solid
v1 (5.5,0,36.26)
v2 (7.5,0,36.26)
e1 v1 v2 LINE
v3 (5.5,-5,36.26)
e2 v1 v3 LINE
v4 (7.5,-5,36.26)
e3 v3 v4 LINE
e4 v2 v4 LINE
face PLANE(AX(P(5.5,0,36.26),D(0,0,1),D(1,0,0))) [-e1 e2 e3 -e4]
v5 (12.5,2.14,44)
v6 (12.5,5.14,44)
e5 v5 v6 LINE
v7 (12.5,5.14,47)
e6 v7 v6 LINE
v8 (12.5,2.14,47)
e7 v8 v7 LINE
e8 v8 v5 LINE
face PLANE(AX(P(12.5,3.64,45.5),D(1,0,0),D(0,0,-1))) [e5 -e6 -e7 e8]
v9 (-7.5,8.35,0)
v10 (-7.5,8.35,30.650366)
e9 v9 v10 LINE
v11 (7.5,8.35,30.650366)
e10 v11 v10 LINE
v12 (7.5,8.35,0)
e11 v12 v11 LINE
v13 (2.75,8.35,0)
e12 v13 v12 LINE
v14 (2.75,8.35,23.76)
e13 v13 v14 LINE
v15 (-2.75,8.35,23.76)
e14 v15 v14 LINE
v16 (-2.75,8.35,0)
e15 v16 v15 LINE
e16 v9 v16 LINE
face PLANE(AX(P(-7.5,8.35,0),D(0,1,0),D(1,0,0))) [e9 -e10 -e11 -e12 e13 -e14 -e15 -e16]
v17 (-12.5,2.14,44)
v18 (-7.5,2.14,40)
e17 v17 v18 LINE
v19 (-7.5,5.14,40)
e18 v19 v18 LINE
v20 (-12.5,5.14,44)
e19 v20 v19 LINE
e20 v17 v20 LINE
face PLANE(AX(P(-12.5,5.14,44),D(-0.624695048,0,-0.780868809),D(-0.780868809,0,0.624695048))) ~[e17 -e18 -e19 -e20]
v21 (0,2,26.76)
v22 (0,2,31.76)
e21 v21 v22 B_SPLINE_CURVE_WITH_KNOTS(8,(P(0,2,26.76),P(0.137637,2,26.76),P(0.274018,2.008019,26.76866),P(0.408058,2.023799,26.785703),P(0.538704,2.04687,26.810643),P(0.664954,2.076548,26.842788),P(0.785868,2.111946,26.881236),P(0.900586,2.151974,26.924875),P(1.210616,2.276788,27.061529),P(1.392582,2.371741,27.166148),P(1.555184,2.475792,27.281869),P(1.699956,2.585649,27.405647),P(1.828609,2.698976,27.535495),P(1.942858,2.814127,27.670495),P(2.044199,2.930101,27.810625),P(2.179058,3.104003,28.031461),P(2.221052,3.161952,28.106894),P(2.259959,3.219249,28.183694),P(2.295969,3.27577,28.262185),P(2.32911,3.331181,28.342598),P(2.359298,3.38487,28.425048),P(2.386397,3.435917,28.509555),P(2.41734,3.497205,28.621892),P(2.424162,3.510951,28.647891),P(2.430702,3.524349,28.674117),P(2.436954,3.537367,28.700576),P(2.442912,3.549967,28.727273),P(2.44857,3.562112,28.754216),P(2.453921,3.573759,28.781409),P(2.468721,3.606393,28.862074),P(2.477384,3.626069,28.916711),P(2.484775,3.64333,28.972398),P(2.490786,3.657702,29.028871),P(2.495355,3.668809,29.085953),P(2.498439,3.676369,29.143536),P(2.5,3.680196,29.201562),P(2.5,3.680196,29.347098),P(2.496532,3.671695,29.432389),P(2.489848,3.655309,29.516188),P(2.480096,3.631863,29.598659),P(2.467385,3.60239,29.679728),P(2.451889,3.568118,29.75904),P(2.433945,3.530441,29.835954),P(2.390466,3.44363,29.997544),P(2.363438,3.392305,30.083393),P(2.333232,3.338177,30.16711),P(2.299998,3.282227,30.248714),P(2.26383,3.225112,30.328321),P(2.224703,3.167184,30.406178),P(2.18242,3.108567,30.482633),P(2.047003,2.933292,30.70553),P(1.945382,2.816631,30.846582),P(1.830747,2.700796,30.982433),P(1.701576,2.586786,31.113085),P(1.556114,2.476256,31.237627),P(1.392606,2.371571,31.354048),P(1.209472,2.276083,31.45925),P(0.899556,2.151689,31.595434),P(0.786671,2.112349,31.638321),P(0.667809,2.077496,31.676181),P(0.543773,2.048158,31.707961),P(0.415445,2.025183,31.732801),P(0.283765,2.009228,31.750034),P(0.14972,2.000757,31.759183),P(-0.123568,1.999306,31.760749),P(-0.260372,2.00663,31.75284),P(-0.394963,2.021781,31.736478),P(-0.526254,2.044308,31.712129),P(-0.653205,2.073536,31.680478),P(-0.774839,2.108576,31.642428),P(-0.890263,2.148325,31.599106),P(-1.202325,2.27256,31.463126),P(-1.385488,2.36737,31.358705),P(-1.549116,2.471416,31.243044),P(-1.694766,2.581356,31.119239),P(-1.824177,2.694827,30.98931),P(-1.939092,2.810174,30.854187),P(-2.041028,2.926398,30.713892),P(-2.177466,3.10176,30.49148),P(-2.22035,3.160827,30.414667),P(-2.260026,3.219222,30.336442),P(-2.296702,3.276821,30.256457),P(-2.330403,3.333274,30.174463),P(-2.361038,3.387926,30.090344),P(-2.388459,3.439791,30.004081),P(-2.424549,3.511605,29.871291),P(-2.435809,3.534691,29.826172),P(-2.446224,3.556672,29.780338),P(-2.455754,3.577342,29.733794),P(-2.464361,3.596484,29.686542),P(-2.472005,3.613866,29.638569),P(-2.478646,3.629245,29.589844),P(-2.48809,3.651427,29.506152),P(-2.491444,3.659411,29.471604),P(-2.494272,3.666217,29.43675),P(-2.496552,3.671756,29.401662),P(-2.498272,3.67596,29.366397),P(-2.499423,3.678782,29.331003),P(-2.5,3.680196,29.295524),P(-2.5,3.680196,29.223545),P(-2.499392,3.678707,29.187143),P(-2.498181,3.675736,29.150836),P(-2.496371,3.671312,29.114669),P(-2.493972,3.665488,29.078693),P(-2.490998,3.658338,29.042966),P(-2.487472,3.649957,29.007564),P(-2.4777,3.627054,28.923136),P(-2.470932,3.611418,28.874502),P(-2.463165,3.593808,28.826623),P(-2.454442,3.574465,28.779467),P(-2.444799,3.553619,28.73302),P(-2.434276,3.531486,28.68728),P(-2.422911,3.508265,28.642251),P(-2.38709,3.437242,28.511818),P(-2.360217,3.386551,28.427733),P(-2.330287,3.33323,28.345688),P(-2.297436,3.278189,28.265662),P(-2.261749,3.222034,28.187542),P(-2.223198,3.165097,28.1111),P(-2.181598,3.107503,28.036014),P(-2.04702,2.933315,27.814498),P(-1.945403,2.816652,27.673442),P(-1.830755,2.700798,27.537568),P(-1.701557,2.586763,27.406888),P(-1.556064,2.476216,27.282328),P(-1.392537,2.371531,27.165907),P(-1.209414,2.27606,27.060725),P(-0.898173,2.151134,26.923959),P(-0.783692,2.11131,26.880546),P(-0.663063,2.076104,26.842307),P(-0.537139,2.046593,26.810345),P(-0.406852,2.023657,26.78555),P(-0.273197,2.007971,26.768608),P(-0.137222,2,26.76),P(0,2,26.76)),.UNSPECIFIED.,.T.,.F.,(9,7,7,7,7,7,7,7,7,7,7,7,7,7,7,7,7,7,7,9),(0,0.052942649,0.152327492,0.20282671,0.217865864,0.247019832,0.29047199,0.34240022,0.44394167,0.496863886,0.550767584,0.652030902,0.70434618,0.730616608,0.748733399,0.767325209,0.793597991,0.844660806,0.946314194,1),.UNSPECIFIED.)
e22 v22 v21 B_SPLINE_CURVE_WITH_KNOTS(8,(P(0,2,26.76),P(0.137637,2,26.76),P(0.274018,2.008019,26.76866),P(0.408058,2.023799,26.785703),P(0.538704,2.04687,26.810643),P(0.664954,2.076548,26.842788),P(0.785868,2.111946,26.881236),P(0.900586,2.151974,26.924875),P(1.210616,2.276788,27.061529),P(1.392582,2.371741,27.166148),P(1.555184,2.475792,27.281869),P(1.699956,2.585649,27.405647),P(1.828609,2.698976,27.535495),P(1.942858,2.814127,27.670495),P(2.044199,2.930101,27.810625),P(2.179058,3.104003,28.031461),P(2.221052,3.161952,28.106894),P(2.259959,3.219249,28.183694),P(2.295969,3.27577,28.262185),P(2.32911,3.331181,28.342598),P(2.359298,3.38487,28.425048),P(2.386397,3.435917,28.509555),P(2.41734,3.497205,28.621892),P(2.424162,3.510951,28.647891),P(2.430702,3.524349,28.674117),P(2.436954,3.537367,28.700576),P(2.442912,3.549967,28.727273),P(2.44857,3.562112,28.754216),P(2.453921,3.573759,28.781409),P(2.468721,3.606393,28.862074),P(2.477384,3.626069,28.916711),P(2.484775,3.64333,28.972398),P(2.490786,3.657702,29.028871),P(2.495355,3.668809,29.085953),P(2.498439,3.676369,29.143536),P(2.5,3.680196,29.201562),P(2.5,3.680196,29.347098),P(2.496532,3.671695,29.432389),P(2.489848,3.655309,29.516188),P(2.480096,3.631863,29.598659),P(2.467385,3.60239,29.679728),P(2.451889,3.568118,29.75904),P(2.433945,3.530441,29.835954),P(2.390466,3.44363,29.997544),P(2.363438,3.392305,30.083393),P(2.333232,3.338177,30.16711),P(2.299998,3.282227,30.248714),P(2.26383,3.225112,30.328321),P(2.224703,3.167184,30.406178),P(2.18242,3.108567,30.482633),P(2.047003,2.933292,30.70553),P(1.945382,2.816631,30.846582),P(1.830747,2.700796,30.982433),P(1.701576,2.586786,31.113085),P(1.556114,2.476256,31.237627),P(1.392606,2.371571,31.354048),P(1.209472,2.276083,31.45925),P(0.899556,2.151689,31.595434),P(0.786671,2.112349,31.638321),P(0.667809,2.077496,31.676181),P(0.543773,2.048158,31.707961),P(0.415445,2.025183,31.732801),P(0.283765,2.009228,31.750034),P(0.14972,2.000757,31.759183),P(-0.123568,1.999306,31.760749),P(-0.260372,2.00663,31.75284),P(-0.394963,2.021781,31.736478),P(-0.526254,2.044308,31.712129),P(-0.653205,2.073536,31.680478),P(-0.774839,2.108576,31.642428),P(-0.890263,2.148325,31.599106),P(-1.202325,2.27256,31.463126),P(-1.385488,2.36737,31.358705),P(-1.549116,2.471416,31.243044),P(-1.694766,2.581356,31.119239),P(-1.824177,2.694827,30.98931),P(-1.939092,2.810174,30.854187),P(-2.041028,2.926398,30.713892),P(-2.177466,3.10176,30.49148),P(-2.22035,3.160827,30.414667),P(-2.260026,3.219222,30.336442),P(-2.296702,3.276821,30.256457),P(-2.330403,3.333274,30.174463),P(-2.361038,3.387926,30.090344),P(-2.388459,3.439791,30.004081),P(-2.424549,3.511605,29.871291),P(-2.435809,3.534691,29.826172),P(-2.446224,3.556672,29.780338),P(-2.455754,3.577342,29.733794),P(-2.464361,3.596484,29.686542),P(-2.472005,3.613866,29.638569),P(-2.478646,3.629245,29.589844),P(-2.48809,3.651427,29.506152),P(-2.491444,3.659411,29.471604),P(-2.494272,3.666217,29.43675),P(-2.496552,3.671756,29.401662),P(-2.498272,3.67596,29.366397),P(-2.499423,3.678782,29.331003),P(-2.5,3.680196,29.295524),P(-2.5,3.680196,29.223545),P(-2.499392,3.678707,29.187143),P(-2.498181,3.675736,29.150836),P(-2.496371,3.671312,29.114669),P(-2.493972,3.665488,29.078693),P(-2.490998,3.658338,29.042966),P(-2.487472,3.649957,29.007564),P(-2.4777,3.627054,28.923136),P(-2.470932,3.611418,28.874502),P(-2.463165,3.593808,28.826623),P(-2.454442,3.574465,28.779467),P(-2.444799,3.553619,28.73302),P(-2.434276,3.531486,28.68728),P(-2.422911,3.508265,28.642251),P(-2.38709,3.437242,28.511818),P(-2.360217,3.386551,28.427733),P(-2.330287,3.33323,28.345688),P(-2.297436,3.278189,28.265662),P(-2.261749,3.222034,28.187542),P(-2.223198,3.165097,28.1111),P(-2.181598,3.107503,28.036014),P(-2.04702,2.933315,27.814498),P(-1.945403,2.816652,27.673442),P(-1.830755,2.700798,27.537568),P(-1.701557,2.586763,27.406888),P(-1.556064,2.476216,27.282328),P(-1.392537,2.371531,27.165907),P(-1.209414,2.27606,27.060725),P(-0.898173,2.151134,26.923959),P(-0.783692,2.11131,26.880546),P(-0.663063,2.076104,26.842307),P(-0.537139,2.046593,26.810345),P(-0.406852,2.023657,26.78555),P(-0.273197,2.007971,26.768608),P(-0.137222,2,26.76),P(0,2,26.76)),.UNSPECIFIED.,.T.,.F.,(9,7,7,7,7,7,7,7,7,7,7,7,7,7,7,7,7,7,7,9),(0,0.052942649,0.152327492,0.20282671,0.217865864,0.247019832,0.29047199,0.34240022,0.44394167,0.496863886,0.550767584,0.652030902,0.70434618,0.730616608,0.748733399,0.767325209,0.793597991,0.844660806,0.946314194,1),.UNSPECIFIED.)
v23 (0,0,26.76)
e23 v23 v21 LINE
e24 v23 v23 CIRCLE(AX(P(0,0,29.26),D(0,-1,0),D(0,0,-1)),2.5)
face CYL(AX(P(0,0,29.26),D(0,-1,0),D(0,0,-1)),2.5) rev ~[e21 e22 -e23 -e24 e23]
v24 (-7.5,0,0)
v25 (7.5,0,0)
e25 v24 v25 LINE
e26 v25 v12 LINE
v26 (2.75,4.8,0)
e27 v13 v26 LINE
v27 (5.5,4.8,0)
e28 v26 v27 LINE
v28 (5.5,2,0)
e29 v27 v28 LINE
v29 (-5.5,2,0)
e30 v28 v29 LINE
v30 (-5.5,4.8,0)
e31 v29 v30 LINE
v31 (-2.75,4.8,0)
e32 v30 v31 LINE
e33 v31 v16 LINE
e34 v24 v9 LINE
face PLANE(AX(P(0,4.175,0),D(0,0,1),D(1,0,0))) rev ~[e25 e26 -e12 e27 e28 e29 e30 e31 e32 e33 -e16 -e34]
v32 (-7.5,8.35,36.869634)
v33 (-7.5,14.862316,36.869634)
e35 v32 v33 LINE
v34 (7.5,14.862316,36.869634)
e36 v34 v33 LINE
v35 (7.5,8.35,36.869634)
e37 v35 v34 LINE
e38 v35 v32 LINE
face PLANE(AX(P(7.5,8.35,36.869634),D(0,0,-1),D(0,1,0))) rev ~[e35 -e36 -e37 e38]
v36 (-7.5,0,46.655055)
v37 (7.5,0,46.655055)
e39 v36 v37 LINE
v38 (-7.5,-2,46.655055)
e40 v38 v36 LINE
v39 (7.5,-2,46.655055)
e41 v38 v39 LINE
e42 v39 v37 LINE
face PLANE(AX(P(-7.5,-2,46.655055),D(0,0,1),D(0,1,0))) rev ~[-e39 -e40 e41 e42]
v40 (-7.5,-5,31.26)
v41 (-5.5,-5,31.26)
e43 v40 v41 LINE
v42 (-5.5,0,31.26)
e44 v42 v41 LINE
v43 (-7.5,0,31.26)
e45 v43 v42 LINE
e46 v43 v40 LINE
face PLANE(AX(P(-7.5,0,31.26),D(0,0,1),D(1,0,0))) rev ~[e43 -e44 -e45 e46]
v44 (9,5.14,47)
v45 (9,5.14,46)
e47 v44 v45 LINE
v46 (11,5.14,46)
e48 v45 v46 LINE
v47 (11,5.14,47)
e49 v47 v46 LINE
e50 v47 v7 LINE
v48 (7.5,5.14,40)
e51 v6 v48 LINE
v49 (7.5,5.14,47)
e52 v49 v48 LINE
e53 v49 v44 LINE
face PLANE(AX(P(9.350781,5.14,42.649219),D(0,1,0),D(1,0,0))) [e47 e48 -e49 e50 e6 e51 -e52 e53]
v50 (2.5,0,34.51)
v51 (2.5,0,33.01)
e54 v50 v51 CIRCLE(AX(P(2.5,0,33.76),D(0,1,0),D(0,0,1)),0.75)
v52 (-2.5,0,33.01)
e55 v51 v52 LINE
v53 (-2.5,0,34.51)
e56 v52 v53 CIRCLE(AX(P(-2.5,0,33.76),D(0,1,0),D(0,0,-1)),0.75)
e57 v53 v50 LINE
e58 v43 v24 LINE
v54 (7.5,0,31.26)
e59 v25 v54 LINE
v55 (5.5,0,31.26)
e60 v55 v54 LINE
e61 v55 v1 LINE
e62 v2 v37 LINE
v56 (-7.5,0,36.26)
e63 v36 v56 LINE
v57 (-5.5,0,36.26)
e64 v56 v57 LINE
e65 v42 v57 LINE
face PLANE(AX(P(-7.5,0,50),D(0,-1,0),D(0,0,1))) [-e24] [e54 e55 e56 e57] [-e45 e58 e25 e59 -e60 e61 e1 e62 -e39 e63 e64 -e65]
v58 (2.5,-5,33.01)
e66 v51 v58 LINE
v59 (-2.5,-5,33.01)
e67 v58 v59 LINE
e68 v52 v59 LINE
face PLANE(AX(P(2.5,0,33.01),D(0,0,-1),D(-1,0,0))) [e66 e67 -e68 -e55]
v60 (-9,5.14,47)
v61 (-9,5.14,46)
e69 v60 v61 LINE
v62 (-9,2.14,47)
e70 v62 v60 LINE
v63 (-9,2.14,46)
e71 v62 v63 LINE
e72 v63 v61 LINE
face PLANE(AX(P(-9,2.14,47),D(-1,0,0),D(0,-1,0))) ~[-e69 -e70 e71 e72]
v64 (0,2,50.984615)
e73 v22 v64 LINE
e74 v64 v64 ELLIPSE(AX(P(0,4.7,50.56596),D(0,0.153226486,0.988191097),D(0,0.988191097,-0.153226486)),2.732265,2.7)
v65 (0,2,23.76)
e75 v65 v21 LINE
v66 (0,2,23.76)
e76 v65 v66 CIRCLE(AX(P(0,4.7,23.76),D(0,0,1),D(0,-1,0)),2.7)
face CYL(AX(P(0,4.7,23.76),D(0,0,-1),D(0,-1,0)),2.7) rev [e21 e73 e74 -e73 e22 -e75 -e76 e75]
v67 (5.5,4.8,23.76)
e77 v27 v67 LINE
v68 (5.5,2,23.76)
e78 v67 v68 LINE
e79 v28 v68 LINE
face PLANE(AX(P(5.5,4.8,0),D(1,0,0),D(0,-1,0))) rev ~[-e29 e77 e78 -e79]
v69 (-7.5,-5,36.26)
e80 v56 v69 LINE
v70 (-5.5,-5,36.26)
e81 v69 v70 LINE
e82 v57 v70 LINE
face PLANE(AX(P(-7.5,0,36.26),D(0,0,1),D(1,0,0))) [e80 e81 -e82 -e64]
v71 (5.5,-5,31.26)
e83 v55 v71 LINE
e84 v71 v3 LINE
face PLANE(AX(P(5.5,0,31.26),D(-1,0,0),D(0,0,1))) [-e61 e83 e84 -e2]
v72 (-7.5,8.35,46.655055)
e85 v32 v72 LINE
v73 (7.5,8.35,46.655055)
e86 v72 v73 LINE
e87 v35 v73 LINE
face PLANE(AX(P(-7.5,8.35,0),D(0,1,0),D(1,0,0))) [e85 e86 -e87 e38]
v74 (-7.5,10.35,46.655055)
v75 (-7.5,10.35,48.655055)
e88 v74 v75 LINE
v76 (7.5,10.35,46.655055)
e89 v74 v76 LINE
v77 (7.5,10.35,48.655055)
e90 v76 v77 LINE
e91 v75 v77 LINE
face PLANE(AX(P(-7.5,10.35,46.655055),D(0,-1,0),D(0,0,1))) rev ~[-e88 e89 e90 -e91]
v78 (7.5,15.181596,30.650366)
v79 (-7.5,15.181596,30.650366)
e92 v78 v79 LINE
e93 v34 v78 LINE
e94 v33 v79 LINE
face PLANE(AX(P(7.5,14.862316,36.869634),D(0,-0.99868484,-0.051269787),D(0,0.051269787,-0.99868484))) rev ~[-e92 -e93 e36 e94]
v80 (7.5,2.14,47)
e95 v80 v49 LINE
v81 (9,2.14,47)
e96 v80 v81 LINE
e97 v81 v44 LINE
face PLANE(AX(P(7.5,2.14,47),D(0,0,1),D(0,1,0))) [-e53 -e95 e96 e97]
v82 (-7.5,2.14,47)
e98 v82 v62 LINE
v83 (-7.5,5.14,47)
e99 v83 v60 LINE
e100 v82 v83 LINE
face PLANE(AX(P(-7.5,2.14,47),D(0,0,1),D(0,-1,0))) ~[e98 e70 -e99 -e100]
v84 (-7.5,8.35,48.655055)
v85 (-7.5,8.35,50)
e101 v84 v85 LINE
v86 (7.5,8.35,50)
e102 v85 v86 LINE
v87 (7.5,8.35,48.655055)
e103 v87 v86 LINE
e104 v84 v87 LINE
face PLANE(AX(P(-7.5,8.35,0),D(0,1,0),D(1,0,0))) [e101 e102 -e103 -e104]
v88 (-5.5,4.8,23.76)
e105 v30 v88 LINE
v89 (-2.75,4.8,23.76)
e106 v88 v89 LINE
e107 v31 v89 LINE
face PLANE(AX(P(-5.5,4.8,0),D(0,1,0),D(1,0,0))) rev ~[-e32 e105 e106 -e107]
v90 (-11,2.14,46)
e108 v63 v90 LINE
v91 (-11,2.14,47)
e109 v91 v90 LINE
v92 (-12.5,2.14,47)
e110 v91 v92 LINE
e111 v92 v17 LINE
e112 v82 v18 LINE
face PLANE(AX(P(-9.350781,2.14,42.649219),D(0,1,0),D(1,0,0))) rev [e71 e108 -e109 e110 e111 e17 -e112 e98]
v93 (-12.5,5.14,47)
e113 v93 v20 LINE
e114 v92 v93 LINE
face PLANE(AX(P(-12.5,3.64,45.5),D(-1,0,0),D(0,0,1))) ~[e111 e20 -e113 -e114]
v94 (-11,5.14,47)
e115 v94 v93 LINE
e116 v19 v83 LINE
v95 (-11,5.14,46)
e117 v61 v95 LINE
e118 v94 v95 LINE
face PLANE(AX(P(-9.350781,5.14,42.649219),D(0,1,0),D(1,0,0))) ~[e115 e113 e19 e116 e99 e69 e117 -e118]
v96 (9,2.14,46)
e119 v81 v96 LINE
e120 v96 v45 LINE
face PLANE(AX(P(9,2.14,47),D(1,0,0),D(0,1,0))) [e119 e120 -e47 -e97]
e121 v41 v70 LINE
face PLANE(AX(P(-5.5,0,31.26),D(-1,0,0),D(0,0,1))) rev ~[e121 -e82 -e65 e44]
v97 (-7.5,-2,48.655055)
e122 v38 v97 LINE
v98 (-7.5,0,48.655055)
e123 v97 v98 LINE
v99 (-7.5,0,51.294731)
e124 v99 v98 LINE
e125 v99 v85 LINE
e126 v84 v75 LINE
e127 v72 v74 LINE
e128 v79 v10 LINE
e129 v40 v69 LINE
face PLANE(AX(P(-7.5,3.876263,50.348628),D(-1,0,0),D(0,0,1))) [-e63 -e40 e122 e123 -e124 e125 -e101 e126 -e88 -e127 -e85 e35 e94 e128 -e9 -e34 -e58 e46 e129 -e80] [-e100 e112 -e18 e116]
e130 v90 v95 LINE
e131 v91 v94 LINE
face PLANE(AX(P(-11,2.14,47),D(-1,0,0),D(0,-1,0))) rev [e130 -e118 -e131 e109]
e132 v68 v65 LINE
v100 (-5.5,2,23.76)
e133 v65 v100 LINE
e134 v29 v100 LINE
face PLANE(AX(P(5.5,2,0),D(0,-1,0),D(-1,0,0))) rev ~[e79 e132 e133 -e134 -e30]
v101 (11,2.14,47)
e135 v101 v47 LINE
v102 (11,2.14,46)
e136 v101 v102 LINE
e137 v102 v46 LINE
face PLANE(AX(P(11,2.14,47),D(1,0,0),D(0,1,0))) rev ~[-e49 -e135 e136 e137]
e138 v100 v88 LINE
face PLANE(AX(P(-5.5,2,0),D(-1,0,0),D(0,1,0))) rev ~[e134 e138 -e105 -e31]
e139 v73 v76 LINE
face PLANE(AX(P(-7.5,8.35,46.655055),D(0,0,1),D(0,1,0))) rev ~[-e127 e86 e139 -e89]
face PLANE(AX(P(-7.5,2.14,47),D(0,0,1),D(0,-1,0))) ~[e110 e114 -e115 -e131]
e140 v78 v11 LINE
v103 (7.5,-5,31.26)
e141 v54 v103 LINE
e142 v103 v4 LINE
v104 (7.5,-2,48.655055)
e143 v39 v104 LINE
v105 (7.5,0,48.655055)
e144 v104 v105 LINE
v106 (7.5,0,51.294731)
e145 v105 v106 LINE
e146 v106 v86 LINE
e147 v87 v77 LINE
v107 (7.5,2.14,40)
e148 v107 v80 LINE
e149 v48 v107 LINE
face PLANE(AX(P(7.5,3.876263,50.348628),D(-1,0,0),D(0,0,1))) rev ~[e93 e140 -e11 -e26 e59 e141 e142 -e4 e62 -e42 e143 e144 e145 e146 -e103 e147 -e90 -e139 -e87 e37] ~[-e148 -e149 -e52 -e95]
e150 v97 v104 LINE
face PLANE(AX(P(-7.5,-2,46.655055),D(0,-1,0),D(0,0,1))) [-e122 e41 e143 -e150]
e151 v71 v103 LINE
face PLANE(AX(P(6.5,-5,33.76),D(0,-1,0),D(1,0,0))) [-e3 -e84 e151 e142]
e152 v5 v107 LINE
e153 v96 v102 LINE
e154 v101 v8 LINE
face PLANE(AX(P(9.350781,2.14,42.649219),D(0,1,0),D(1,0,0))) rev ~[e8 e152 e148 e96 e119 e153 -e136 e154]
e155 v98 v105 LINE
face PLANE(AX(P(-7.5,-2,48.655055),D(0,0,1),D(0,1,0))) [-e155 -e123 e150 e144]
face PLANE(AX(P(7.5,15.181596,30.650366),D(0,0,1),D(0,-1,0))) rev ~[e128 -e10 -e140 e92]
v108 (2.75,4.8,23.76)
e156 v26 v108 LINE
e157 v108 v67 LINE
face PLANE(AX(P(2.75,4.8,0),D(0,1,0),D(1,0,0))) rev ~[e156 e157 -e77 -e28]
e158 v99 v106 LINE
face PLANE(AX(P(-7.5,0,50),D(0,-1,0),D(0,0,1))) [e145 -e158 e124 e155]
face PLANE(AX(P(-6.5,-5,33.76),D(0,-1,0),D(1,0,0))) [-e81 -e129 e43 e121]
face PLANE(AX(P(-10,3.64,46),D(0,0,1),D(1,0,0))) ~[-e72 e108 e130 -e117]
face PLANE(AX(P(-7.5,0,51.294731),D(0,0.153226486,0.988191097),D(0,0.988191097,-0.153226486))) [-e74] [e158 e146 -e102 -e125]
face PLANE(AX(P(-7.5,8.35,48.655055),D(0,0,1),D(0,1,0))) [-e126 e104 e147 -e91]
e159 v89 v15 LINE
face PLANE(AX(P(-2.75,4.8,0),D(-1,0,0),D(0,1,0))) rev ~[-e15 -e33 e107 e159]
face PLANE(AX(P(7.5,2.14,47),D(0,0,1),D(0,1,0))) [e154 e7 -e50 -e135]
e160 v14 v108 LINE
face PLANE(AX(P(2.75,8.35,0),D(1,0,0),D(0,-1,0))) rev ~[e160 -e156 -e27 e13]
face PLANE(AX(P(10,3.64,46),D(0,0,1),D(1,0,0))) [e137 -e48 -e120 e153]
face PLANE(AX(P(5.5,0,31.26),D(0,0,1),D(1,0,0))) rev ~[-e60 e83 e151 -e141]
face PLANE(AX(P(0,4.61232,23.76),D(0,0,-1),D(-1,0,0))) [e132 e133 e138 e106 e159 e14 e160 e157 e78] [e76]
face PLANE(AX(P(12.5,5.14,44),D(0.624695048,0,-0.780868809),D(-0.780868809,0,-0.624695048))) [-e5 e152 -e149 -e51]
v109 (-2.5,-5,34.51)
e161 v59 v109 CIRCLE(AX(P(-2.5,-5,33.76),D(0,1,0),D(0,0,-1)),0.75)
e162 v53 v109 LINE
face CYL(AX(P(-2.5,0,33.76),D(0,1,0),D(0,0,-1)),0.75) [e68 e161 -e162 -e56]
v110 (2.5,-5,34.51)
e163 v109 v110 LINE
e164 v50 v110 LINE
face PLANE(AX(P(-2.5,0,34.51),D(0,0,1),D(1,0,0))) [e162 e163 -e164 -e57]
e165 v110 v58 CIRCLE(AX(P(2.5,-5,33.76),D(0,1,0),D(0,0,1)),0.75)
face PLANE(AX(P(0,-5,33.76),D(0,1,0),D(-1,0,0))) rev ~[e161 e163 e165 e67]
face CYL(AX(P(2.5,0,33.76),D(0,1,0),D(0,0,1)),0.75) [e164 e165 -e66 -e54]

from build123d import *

# Parameters (mm, degrees)
SKETCH9_W               = 15
SKETCH9_H               = 8.35
BOSS_EXTRUDE4_DEPTH     = 50
CUT_EXTRUDE4_DEPTH      = 23.76
BOSS_EXTRUDE9_DEPTH     = 15
CUT_EXTRUDE5_REACH      = 31.734
SKETCH10_R              = 2.7
SKETCH12_W              = 3
SKETCH12_H              = 3
BOSS_EXTRUDE5_DEPTH     = 5
SKETCH13_W              = 2
SKETCH13_H              = 3
CUT_EXTRUDE6_DEPTH      = 1
BOSS_EXTRUDE6_DEPTH     = 3
SKETCH22_W              = 2
SKETCH22_H              = 2
BOSS_EXTRUDE10_DEPTH    = 15
CUT_EXTRUDE7_REACH      = 55.801
CUT_EXTRUDE7_END_RADIUS = 2.7
SKETCH23_R              = 2.5
SKETCH24_W              = 2
SKETCH24_H              = 5
BOSS_EXTRUDE11_DEPTH    = 5
BOSS_EXTRUDE12_DEPTH    = 15


with BuildPart() as part:
    # Sketch9 → Boss-Extrude4 (new body)
    with BuildSketch(Plane.XY):
        with Locations((0, 4.175)):
            Rectangle(SKETCH9_W, SKETCH9_H)
    extrude(amount=BOSS_EXTRUDE4_DEPTH)

    # Sketch7 → Cut-Extrude4 (cut)
    with BuildSketch(Plane.XY):
        Polygon((-5.5, 2), (-5.5, 4.8), (-2.75, 4.8), (-2.75, 8.35), (2.75, 8.35), (2.75, 4.8), (5.5, 4.8), (5.5, 2), align=None)
    extrude(amount=CUT_EXTRUDE4_DEPTH, mode=Mode.SUBTRACT)

    # Sketch21 → Boss-Extrude9 (add)
    with BuildSketch(Plane.ZY.offset(7.5)):
        Polygon((50, 0), (51.294730508, 0), (50, 8.35), align=None)
    extrude(amount=-BOSS_EXTRUDE9_DEPTH)

    # Cut-Extrude5: up to this plane
    cut_extrude5_end = Plane(origin=(15.949782665, 0, 51.294730508), z_dir=(0, 0.15322648630316937, 0.9881910968507989))
    # Sketch10 → Cut-Extrude5 (cut, up to the surface)
    with BuildSketch(Plane.XY.offset(23.76), mode=Mode.PRIVATE) as cut_extrude5_sk1:
        with Locations(Location((0, 4.7, 0), (0, 0, 270))):
            Circle(SKETCH10_R)
    cut_extrude5_tool1 = split(extrude(cut_extrude5_sk1.sketch, amount=CUT_EXTRUDE5_REACH, mode=Mode.PRIVATE), bisect_by=cut_extrude5_end, keep=Keep.BOTH, mode=Mode.PRIVATE)
    add(cut_extrude5_tool1.solids().sort_by_distance((0, 4.7, 23.76))[0], mode=Mode.SUBTRACT)

    # Sketch12 → Boss-Extrude5 (add)
    with BuildSketch(Plane(origin=(7.5, 0, 0), x_dir=(0, 0, -1), z_dir=(1, 0, 0))):
        with Locations((-45.5, 3.64)):
            Rectangle(SKETCH12_W, SKETCH12_H)
    boss_extrude5 = extrude(amount=BOSS_EXTRUDE5_DEPTH)

    # Sketch13 → Cut-Extrude6 (cut)
    with BuildSketch(Plane.XY.offset(47)):
        with Locations((10, 3.64)):
            Rectangle(SKETCH13_W, SKETCH13_H)
    cut_extrude6 = extrude(amount=-CUT_EXTRUDE6_DEPTH, mode=Mode.SUBTRACT)

    # Mirror2: Boss-Extrude5 across plane
    add(boss_extrude5.mirror(Plane(origin=(0, 0, 0), x_dir=(0, 0, 1), z_dir=(1, 0, 0))))

    # Mirror4: Cut-Extrude6 across plane
    add(cut_extrude6.mirror(Plane(origin=(0, 0, 0), x_dir=(0, 0, 1), z_dir=(1, 0, 0))), mode=Mode.SUBTRACT)

    # Sketch14 → Boss-Extrude6 (add)
    with BuildSketch(Plane(origin=(0, 5.14, 0), x_dir=(1, 0, 0), z_dir=(0, 1, 0))):
        Polygon((12.5, -44), (7.5, -40), (7.5, -44), align=None)
    boss_extrude6 = extrude(amount=-BOSS_EXTRUDE6_DEPTH)

    # Mirror5: Boss-Extrude6 across plane
    add(boss_extrude6.mirror(Plane(origin=(0, 0, 0), x_dir=(0, 0, 1), z_dir=(1, 0, 0))))

    # Sketch22 → Boss-Extrude10 (add)
    with BuildSketch(Plane.ZY.offset(7.5)):
        with Locations((47.655054804, -1)):
            Rectangle(SKETCH22_W, SKETCH22_H)
        with Locations((47.655054804, 9.35)):
            Rectangle(SKETCH22_W, SKETCH22_H)
    extrude(amount=-BOSS_EXTRUDE10_DEPTH)

    # Cut-Extrude7: up to this cylinder (the profile starts outside it)
    cut_extrude7_end = Plane(origin=(0, 4.7, 29.26), z_dir=(0, 0, -1)) * Cylinder(CUT_EXTRUDE7_END_RADIUS, 118.002, mode=Mode.PRIVATE)
    # Sketch23 → Cut-Extrude7 (cut, up to the surface)
    with BuildSketch(Plane.XZ, mode=Mode.PRIVATE) as cut_extrude7_sk1:
        with Locations(Location((0, 29.26, 0), (0, 0, 270))):
            Circle(SKETCH23_R)
    cut_extrude7_tool1 = extrude(cut_extrude7_sk1.sketch, amount=-CUT_EXTRUDE7_REACH, mode=Mode.PRIVATE) - cut_extrude7_end
    add(cut_extrude7_tool1.solids().sort_by_distance((0, 0, 29.26))[0], mode=Mode.SUBTRACT)

    # Sketch24 → Boss-Extrude11 (add)
    with BuildSketch(Plane.XZ):
        with Locations((6.5, 33.76)):
            Rectangle(SKETCH24_W, SKETCH24_H)
        with Locations((-6.5, 33.76)):
            Rectangle(SKETCH24_W, SKETCH24_H)
        with BuildLine():
            Line((2.5, 33.01), (-2.5, 33.01))
            ThreePointArc((-2.5, 33.01), (-3.25, 33.76), (-2.5, 34.51))
            Line((-2.5, 34.51), (2.5, 34.51))
            ThreePointArc((2.5, 34.51), (3.25, 33.76), (2.5, 33.01))
        make_face()
    extrude(amount=BOSS_EXTRUDE11_DEPTH)

    # Sketch25 → Boss-Extrude12 (add)
    with BuildSketch(Plane(origin=(7.5, 0, 0), x_dir=(0, 0, -1), z_dir=(1, 0, 0))):
        Polygon((-30.650366035, 8.35), (-36.869633965, 8.35), (-36.869633965, 14.862315517), (-30.650366035, 15.181595964), align=None)
    extrude(amount=-BOSS_EXTRUDE12_DEPTH)


solid = part.part
